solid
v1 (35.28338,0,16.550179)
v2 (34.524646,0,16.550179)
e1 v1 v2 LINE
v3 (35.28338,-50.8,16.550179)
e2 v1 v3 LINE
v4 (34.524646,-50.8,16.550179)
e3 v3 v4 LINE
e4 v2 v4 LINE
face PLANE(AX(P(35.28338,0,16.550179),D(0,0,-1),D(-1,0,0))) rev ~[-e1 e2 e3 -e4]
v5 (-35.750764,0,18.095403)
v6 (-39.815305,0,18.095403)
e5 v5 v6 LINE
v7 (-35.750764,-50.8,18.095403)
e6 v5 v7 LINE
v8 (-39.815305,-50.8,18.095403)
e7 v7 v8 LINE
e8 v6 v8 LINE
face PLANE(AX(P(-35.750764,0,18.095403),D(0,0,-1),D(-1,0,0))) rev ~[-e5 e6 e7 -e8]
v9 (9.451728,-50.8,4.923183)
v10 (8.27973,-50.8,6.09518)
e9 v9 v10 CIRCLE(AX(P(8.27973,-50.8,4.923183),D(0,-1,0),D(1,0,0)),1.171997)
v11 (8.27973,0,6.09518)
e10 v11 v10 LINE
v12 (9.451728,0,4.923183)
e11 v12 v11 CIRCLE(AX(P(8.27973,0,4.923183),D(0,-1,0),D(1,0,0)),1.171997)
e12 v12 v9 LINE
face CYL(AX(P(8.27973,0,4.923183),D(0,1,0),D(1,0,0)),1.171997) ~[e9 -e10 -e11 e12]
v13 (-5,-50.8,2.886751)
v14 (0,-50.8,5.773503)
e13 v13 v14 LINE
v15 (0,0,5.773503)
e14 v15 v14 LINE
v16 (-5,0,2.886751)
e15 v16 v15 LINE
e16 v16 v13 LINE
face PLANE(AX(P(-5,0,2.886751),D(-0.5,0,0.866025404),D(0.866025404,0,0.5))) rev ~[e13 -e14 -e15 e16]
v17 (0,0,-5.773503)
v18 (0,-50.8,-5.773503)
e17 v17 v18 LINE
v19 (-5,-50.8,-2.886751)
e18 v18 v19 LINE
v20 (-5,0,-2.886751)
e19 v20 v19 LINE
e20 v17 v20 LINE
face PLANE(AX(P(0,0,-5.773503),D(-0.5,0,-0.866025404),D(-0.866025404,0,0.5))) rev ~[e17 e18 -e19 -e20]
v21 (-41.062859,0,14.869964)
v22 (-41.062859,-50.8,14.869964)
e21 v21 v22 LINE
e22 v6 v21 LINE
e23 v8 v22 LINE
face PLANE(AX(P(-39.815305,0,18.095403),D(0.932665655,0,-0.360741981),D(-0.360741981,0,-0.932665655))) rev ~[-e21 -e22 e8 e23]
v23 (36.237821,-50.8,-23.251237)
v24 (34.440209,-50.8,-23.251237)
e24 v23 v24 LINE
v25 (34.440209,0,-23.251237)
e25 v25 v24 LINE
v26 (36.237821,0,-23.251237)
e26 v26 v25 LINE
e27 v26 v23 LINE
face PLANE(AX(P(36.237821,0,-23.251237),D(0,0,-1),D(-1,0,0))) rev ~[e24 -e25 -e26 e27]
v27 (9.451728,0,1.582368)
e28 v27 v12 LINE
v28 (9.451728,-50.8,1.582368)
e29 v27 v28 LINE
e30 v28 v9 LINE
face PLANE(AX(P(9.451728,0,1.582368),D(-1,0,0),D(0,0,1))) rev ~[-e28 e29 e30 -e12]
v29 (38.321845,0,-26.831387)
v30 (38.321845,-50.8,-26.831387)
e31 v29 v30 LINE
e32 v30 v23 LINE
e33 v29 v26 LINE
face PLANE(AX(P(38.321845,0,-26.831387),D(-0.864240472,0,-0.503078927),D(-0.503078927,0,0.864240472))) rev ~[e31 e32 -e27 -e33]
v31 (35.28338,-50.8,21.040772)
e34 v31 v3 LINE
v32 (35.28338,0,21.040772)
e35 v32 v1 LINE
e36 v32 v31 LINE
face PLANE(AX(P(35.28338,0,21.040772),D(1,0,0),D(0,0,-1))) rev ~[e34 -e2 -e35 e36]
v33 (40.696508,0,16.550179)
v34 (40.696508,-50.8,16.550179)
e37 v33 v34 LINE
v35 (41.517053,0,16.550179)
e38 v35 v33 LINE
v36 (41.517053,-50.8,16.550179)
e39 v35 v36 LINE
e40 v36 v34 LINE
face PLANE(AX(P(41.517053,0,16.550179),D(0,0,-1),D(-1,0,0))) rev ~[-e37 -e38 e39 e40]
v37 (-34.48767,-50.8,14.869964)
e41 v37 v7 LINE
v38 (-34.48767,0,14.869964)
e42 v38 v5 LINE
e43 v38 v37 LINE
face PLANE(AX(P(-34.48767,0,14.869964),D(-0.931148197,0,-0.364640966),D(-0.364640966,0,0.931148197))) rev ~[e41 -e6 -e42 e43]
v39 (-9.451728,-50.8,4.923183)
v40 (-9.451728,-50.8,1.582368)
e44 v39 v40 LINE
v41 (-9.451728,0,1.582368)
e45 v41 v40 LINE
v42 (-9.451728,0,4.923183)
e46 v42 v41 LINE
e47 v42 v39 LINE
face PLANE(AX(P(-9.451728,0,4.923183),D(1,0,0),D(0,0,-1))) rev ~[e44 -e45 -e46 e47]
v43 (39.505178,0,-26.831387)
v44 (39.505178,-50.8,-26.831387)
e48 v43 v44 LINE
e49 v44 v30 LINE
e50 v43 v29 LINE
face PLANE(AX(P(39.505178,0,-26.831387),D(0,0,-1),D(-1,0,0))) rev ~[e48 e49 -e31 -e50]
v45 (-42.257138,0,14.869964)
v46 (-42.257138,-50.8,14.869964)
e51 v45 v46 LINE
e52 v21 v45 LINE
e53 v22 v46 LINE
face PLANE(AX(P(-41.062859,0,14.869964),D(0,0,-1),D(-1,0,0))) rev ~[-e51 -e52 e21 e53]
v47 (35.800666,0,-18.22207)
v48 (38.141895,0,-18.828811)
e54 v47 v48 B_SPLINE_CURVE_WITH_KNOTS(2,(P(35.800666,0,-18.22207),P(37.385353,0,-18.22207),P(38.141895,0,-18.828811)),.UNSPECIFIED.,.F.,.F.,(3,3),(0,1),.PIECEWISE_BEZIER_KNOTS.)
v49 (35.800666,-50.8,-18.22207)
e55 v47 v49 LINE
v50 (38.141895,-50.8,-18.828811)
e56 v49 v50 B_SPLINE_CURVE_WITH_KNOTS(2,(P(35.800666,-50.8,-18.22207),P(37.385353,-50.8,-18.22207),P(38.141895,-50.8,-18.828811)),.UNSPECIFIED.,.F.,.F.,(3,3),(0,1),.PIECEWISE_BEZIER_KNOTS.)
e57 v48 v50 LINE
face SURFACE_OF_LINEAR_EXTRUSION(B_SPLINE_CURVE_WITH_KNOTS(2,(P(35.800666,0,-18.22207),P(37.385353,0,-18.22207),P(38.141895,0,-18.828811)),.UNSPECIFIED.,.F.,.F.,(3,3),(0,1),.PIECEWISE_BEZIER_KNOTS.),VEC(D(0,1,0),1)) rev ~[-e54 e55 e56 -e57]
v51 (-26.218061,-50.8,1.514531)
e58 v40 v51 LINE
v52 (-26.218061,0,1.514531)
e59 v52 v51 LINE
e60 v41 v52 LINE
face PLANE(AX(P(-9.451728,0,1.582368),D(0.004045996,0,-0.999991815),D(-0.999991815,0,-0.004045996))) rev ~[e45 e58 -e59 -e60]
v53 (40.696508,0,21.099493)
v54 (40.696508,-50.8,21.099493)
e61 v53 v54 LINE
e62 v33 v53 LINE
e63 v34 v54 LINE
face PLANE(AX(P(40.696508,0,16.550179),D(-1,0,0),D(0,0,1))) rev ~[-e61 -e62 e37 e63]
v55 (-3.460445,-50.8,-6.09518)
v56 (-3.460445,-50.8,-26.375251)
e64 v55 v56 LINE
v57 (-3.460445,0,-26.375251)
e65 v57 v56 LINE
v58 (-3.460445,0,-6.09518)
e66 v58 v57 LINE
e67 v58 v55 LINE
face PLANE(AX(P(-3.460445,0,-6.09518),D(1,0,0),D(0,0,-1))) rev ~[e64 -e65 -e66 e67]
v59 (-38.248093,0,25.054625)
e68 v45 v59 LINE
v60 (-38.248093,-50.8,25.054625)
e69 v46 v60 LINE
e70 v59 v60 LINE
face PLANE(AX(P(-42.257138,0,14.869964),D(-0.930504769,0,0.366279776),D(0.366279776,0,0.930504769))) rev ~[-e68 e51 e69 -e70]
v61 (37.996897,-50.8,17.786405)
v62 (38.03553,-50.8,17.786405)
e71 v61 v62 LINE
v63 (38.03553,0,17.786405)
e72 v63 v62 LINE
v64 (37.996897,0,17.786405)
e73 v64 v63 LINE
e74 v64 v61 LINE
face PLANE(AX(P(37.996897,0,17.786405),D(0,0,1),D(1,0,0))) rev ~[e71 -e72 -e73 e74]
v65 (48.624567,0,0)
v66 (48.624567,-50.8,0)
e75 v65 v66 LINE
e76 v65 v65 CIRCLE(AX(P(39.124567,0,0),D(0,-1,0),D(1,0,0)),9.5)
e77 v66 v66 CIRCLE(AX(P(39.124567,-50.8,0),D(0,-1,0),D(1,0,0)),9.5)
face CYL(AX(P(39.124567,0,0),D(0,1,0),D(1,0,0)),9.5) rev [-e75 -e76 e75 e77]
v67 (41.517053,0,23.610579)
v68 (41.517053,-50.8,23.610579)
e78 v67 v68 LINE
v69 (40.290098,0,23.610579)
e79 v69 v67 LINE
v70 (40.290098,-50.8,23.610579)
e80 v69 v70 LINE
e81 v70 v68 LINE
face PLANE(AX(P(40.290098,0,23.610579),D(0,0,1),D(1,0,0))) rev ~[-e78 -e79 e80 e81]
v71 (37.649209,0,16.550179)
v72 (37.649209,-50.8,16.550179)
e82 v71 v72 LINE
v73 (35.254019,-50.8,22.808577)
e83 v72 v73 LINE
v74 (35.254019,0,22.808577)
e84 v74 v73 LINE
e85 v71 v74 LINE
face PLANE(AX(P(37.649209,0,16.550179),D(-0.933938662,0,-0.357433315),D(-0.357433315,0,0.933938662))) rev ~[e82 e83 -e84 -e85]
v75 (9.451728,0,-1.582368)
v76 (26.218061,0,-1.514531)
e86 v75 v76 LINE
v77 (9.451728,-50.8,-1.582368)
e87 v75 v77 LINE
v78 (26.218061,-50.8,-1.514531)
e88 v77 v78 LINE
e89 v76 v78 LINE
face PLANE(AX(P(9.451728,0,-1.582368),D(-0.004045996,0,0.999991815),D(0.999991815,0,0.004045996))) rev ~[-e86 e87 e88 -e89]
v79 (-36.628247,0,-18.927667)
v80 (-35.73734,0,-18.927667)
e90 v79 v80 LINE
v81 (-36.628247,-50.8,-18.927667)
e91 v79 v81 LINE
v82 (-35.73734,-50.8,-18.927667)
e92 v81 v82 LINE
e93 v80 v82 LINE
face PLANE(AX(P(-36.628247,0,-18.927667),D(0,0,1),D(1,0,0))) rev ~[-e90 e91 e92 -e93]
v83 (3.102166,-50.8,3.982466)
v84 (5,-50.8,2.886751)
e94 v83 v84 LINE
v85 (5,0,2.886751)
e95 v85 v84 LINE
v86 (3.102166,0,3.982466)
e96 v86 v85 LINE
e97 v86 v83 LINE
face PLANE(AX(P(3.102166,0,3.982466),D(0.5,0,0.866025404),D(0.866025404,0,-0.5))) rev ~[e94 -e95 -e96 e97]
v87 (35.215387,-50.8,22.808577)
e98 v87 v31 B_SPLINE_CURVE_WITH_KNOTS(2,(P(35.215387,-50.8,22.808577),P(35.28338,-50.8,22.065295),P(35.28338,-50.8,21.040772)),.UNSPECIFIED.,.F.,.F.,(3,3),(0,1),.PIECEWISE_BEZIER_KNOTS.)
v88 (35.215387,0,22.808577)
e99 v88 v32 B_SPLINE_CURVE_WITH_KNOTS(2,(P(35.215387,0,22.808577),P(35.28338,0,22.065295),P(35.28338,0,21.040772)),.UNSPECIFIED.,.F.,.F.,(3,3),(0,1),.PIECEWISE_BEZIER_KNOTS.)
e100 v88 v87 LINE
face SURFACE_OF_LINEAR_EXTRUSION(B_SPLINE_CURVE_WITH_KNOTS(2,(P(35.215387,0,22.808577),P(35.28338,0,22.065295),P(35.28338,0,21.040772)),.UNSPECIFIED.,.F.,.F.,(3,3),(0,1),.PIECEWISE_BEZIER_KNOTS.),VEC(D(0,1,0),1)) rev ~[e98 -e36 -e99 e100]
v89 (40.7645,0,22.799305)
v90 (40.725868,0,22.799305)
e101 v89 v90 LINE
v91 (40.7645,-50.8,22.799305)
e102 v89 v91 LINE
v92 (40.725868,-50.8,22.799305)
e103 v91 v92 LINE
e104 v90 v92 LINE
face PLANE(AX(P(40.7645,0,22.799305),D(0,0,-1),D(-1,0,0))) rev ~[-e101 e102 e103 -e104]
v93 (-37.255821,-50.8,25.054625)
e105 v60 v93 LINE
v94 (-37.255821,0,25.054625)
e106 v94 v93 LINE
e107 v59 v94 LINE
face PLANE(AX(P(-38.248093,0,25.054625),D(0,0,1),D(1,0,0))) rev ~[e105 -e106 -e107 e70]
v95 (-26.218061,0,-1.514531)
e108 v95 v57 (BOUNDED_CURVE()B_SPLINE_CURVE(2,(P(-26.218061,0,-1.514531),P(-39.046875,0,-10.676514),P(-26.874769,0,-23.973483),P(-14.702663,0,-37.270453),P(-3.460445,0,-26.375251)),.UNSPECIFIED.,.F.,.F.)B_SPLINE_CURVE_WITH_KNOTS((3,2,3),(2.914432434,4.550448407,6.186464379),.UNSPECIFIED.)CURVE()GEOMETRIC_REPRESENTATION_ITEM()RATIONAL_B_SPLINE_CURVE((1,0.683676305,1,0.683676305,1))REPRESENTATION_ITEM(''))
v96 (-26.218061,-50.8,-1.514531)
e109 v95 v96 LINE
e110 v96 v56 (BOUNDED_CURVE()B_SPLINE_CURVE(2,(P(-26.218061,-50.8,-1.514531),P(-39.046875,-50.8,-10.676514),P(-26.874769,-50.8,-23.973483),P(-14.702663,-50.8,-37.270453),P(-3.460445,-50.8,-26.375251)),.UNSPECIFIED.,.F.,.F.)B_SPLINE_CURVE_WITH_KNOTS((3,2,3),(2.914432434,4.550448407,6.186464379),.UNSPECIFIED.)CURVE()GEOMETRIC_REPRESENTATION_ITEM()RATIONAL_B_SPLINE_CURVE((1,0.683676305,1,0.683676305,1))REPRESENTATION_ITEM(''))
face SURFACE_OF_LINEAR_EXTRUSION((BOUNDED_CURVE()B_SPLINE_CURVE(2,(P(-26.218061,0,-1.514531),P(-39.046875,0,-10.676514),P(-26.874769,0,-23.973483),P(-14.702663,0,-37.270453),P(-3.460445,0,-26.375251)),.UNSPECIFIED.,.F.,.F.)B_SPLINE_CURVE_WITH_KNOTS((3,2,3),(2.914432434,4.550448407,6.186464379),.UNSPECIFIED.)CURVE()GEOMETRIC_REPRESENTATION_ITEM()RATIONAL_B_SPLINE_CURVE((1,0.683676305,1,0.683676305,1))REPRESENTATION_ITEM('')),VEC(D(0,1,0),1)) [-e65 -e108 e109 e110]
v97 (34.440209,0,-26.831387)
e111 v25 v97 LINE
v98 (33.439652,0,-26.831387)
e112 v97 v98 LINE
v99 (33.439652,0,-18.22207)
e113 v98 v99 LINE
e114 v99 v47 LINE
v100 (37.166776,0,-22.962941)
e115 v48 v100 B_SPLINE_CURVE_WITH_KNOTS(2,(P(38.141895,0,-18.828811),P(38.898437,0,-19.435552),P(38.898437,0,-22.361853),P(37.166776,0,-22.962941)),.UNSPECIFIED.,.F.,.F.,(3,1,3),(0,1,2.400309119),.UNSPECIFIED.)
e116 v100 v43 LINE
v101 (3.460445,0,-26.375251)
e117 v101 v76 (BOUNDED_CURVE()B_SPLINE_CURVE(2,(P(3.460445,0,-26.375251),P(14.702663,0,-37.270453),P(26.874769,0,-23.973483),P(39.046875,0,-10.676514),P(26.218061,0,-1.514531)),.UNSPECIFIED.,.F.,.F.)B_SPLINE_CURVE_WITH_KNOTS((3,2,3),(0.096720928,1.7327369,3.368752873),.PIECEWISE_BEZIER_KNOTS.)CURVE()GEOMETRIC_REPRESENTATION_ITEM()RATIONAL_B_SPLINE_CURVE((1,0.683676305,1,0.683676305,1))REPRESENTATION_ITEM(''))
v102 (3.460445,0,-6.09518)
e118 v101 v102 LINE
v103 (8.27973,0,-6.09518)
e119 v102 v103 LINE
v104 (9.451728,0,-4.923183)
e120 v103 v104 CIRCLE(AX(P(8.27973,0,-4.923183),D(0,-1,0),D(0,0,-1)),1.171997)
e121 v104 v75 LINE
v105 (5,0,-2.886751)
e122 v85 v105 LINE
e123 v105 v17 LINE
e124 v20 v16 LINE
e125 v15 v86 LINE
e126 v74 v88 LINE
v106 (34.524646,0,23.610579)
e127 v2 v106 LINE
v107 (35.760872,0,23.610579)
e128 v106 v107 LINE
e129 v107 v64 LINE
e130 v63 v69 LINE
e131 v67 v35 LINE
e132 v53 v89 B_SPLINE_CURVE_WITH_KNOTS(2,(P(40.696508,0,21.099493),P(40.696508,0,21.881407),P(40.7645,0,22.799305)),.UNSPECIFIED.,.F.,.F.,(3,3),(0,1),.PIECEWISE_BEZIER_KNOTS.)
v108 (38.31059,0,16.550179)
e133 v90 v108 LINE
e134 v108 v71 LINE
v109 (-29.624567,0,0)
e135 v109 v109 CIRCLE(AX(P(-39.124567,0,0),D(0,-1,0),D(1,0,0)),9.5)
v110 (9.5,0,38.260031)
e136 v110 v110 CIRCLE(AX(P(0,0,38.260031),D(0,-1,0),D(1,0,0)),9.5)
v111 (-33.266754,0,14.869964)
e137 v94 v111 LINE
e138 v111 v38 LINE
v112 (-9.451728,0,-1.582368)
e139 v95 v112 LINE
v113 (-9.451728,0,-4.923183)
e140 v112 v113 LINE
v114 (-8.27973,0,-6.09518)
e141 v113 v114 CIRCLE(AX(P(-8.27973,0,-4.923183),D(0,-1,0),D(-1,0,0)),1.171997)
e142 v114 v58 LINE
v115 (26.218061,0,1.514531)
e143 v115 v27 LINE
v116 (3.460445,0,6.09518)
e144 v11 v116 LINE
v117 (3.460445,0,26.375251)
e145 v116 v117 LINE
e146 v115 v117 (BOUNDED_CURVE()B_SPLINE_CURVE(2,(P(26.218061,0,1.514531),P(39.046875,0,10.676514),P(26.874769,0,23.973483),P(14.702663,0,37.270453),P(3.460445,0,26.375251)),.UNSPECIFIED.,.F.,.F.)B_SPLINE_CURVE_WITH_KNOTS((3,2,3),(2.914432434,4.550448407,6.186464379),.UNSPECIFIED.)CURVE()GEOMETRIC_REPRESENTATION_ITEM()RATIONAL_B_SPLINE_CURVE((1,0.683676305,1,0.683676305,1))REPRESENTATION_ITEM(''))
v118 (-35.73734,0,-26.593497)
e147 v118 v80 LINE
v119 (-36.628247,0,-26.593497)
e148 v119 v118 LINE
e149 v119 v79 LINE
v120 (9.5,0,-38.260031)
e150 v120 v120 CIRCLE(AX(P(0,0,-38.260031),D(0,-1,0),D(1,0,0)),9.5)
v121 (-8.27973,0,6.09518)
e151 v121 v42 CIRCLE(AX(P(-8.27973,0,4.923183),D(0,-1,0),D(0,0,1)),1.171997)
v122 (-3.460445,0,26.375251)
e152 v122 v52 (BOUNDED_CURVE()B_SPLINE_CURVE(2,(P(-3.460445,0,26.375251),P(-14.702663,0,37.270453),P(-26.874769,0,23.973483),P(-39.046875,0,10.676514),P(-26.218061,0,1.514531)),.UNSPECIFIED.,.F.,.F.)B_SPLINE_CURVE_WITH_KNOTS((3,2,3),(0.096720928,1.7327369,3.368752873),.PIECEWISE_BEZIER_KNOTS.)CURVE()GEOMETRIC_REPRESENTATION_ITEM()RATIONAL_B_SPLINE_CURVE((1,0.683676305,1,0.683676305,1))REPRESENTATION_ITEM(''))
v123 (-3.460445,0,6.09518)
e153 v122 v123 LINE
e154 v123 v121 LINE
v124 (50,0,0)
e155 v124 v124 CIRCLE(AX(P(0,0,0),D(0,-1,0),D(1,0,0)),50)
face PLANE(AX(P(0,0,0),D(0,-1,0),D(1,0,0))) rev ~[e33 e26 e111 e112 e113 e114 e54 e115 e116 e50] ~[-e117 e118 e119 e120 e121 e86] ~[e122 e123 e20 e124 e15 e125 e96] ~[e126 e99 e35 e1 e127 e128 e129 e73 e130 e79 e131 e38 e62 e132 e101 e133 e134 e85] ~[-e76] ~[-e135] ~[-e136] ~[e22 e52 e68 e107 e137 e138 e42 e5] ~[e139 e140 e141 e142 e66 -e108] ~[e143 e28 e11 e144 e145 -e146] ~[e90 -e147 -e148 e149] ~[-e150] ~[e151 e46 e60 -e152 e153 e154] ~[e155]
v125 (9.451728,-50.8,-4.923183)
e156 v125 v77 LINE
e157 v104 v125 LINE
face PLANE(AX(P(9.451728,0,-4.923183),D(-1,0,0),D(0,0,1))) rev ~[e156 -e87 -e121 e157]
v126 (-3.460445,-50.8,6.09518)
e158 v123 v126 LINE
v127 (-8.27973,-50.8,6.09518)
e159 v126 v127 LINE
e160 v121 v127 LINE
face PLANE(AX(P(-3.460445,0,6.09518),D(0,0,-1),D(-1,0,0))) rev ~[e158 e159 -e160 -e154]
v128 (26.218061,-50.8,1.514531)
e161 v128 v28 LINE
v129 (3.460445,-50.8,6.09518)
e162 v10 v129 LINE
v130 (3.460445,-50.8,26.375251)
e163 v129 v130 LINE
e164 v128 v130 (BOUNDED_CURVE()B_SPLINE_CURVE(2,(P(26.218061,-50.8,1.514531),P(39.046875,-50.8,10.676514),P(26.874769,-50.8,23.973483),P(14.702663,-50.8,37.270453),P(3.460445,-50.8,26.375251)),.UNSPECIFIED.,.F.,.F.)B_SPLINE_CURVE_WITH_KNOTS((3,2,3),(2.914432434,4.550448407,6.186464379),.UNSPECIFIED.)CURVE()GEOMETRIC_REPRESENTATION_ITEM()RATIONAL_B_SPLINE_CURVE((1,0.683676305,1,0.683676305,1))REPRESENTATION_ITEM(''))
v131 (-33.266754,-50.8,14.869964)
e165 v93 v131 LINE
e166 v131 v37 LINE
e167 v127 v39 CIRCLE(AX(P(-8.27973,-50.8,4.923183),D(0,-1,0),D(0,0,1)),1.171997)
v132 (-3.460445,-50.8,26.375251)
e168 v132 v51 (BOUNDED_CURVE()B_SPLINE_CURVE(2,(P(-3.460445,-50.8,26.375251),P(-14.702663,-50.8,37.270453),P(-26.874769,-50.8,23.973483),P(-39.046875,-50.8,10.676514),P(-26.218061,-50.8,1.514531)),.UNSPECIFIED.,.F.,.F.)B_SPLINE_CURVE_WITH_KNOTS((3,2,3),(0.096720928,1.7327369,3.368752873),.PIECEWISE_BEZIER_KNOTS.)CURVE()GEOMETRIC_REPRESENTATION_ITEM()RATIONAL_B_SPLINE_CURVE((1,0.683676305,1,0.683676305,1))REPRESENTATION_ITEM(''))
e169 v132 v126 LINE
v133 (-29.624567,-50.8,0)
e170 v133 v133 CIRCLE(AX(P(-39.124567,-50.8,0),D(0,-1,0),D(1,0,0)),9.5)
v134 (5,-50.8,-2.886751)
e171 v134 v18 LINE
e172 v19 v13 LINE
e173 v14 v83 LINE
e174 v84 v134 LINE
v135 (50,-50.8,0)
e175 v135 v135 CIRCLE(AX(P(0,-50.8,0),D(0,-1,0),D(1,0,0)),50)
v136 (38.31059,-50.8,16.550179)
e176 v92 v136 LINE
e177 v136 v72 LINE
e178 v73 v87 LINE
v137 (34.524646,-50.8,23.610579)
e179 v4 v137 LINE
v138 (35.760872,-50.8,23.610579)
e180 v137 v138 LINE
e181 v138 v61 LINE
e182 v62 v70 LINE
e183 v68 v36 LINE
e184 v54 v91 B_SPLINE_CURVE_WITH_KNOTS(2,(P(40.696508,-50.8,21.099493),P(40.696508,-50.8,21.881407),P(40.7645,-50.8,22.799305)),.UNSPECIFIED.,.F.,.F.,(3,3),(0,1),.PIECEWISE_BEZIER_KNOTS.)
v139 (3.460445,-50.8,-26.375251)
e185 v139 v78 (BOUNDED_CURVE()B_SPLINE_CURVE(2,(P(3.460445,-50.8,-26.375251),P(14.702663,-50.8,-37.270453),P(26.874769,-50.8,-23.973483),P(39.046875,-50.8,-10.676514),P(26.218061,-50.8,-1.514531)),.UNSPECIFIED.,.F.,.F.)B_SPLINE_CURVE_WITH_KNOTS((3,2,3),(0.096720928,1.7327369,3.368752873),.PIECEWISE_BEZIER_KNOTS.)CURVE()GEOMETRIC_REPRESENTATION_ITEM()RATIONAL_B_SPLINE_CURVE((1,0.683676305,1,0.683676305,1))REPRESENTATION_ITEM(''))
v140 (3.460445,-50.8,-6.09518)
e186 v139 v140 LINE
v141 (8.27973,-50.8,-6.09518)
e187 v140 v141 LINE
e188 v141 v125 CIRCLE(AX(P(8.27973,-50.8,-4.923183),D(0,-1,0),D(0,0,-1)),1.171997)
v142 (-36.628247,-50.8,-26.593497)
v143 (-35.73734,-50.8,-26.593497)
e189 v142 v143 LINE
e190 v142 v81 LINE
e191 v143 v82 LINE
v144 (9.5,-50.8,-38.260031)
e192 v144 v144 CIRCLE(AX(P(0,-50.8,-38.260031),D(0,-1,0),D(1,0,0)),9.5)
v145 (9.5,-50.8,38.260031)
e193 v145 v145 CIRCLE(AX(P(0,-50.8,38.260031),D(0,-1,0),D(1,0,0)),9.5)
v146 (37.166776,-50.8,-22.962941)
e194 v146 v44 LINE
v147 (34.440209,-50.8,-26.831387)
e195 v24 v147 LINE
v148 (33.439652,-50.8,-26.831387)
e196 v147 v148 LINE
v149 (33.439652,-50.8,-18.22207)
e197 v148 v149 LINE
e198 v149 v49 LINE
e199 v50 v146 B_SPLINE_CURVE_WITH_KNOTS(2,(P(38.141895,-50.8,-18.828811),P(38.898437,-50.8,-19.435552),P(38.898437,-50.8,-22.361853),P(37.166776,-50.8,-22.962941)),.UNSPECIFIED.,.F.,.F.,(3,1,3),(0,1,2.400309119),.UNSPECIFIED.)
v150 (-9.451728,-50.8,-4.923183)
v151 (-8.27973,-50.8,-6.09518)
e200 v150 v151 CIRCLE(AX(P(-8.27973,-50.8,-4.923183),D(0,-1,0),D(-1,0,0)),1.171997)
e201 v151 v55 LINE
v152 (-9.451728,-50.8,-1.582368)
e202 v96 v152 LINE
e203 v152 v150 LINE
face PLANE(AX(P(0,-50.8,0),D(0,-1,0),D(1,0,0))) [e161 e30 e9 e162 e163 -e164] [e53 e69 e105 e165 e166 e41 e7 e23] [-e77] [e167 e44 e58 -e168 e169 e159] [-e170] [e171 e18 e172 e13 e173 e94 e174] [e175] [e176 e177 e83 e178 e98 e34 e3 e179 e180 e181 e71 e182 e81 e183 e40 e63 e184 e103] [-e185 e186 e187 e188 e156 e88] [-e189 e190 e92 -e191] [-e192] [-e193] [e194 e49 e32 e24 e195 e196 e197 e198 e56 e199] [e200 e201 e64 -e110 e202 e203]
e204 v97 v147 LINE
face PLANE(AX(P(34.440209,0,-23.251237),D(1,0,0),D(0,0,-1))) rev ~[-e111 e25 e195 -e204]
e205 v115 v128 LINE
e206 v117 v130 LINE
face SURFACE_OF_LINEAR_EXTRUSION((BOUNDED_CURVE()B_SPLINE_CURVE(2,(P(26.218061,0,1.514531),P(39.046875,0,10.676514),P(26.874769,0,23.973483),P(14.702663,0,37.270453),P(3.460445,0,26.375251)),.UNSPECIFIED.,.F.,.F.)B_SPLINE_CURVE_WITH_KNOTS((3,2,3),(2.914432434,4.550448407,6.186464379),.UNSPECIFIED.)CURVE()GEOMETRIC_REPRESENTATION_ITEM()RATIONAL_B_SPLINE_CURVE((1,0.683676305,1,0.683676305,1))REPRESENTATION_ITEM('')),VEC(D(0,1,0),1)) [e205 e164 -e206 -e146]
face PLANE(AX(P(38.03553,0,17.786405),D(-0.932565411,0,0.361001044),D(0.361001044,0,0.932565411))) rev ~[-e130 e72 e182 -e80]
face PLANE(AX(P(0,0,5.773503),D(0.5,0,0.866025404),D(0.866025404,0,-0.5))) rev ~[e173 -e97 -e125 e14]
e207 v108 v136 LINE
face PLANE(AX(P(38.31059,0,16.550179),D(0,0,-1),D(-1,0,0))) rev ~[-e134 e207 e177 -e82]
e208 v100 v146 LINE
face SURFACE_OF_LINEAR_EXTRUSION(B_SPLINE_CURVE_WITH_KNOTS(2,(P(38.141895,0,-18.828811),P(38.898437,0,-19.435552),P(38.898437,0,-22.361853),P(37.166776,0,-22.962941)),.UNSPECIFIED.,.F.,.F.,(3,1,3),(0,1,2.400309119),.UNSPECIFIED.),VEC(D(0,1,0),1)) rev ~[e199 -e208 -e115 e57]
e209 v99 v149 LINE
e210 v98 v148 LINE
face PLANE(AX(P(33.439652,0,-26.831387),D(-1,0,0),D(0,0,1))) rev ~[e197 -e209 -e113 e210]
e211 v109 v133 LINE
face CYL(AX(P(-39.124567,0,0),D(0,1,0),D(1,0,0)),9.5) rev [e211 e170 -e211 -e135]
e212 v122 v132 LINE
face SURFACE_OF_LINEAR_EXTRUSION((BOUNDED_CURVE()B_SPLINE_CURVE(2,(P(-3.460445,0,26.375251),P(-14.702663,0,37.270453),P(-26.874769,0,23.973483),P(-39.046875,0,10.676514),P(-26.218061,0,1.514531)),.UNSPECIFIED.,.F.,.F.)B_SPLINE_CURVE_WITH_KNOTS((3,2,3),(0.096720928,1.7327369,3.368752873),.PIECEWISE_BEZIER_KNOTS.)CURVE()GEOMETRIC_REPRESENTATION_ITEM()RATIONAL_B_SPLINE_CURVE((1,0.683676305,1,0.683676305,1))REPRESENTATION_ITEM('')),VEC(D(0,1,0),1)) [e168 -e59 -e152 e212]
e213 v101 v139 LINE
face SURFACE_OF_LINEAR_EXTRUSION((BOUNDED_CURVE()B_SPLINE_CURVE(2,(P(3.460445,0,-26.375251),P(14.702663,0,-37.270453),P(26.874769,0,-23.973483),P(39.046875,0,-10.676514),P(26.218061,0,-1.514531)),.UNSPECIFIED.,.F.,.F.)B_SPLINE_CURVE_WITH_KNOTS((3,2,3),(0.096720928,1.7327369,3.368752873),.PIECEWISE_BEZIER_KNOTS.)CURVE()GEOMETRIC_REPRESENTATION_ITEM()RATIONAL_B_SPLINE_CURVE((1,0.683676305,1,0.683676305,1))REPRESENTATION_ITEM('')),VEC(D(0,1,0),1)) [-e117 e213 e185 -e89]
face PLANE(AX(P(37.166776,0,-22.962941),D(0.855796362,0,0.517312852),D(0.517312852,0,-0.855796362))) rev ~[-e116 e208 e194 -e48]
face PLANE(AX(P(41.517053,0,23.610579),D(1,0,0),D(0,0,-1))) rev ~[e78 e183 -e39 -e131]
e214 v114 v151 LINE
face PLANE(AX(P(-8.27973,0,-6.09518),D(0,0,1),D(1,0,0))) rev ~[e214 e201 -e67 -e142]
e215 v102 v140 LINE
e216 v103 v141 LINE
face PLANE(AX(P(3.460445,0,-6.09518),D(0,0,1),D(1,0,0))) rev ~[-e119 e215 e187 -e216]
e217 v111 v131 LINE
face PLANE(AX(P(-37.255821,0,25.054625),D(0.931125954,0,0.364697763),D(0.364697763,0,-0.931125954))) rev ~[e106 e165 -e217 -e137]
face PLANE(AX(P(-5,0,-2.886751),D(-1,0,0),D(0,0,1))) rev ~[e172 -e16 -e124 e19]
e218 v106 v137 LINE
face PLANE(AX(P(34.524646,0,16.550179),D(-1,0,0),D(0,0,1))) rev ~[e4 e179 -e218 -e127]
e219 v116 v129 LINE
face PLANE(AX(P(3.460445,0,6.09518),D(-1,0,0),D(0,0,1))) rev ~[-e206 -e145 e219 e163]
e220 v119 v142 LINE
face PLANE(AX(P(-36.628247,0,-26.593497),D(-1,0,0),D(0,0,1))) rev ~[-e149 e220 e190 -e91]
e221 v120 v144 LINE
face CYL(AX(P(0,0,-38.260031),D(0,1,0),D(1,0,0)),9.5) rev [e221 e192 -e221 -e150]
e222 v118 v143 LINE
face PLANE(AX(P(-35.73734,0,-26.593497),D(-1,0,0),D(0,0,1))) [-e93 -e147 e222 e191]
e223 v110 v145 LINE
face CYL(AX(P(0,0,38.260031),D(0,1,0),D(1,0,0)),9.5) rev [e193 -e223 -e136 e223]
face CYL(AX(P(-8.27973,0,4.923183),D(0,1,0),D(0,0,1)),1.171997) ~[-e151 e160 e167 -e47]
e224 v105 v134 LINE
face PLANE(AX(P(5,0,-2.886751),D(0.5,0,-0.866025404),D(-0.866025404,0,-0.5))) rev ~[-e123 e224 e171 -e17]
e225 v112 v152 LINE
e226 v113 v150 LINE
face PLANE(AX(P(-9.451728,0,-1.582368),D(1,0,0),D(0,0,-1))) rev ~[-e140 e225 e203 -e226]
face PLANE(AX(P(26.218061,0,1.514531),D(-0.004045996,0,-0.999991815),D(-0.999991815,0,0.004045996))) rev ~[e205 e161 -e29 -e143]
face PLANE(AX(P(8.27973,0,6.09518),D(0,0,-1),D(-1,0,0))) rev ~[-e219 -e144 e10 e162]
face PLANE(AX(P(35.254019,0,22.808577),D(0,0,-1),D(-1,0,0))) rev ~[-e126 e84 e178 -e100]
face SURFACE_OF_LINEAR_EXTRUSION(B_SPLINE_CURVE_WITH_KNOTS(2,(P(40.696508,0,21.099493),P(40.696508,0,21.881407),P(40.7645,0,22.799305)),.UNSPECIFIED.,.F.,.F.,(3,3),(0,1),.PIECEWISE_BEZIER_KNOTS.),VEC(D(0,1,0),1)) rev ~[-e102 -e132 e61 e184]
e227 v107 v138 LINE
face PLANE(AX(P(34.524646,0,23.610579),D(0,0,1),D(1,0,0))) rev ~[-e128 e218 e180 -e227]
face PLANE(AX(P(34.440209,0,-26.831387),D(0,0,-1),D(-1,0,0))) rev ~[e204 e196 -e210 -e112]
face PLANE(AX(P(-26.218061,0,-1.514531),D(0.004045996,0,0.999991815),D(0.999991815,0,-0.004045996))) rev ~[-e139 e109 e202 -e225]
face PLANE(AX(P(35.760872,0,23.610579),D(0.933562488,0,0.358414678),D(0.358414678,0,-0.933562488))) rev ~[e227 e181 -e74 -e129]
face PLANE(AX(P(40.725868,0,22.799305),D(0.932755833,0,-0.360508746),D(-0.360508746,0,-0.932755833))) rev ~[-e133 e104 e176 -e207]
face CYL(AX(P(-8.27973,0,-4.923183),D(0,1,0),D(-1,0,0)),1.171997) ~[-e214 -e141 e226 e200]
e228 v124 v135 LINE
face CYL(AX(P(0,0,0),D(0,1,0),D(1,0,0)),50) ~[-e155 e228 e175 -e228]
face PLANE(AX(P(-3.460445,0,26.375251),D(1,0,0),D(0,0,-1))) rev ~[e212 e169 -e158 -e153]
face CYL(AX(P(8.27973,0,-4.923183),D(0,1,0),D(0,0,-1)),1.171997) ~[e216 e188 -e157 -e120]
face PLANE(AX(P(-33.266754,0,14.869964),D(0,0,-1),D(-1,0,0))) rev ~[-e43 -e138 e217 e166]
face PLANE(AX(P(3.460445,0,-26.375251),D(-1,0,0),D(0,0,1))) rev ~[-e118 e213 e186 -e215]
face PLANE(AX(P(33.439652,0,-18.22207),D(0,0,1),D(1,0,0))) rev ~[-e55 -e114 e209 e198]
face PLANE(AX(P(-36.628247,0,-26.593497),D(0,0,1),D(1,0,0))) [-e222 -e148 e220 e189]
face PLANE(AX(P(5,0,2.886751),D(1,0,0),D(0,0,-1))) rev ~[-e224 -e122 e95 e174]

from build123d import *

# Parameters (mm, degrees)
F0_R     = 50
F0_W     = 0.8909073204
F0_H     = 7.6658296548
F0_R_2   = 9.5
F1_DEPTH = 50.8


with BuildPart() as f1:
    # F0 (on Front) → F1 (new body)
    with BuildSketch(Plane.XZ):
        Circle(F0_R)
        with Locations((-36.1827932026, -22.7605821956)):
            Rectangle(F0_W, F0_H, mode=Mode.SUBTRACT)
        with BuildLine():
            add(Edge.make_bspline(
                [(-26.2180610272, -1.514530619), (-39.046874665, -10.6765138668), (-26.8747687945, -23.9734832309), (-14.7026629239, -37.270452595), (-3.4604447998, -26.3752514337)],
                knots=[2.9144324344, 2.9144324344, 2.9144324344, 4.5504484069, 4.5504484069, 6.1864643793, 6.1864643793, 6.1864643793], degree=2, weights=[1, 0.6836763053, 1, 0.6836763053, 1]))
            Line((-26.2180610272, -1.514530619), (-9.4517278188, -1.5823676949))
            Line((-9.4517278188, -1.5823676949), (-9.4517278188, -4.923182711))
            ThreePointArc((-9.4517278188, -4.923182711), (-9.108457703, -5.7519100802), (-8.2797303337, -6.095180196))
            Line((-8.2797303337, -6.095180196), (-3.4604447998, -6.095180196))
            Line((-3.4604447998, -6.095180196), (-3.4604447998, -26.3752514337))
        make_face(mode=Mode.SUBTRACT)
        with Locations((0, -38.2600314915)):
            Circle(F0_R_2, mode=Mode.SUBTRACT)
        with BuildLine():
            add(Edge.make_bspline(
                [(3.4604447998, -26.3752514337), (14.7026629239, -37.270452595), (26.8747687945, -23.9734832309), (39.046874665, -10.6765138668), (26.2180610272, -1.514530619)],
                knots=[0.0967209279, 0.0967209279, 0.0967209279, 1.7327369003, 1.7327369003, 3.3687528727, 3.3687528727, 3.3687528727], degree=2, weights=[1, 0.6836763053, 1, 0.6836763053, 1]))
            Line((3.4604447998, -26.3752514337), (3.4604447998, -6.095180196))
            Line((3.4604447998, -6.095180196), (8.2797303337, -6.095180196))
            ThreePointArc((8.2797303337, -6.095180196), (9.108457703, -5.7519100802), (9.4517278188, -4.923182711))
            Line((9.4517278188, -4.923182711), (9.4517278188, -1.5823676949))
            Line((9.4517278188, -1.5823676949), (26.2180610272, -1.514530619))
        make_face(mode=Mode.SUBTRACT)
        with BuildLine():
            Line((36.2378211289, -23.251237317), (34.4402093255, -23.251237317))
            Line((34.4402093255, -23.251237317), (34.4402093255, -26.8313866109))
            Line((34.4402093255, -26.8313866109), (33.4396518123, -26.8313866109))
            Line((33.4396518123, -26.8313866109), (33.4396518123, -18.2220697037))
            Line((33.4396518123, -18.2220697037), (35.8006660572, -18.2220697037))
            add(Edge.make_bspline(
                [(35.8006660572, -18.2220697037), (37.385353192, -18.2220697037), (38.1418952665, -18.8288107945)],
                knots=[0, 0, 0, 1, 1, 1], degree=2))
            add(Edge.make_bspline(
                [(38.1418952665, -18.8288107945), (38.8984373409, -19.4355518854), (38.8984373409, -20.6546869344)],
                knots=[0, 0, 0, 1, 1, 1], degree=2))
            add(Edge.make_bspline(
                [(38.8984373409, -20.6546869344), (38.8984373409, -22.3618528608), (37.1667756562, -22.9629410844)],
                knots=[0, 0, 0, 1, 1, 1], degree=2))
            Line((37.1667756562, -22.9629410844), (39.5051784318, -26.8313866109))
            Line((39.5051784318, -26.8313866109), (38.3218448757, -26.8313866109))
            Line((38.3218448757, -26.8313866109), (36.2378211289, -23.251237317))
        make_face(mode=Mode.SUBTRACT)
        with Locations((-39.1245670617, 0)):
            Circle(F0_R_2, mode=Mode.SUBTRACT)
        Polygon((-33.2667540933, 14.8699637502), (-34.4876703716, 14.8699637502), (-35.7507637576, 18.0954025725), (-39.8153050402, 18.0954025725), (-41.0628594917, 14.8699637502), (-42.2571375966, 14.8699637502), (-38.2480925085, 25.0546253584), (-37.2558205515, 25.0546253584), align=None, mode=Mode.SUBTRACT)
        with BuildLine():
            Line((-3.4604447998, 26.3752514337), (-3.4604447998, 6.095180196))
            Line((-3.4604447998, 6.095180196), (-8.2797303337, 6.095180196))
            ThreePointArc((-8.2797303337, 6.095180196), (-9.108457703, 5.7519100802), (-9.4517278188, 4.923182711))
            Line((-9.4517278188, 4.923182711), (-9.4517278188, 1.5823676949))
            Line((-9.4517278188, 1.5823676949), (-26.2180610272, 1.514530619))
            add(Edge.make_bspline(
                [(-3.4604447998, 26.3752514337), (-14.7026629239, 37.270452595), (-26.8747687945, 23.9734832309), (-39.046874665, 10.6765138668), (-26.2180610272, 1.514530619)],
                knots=[0.0967209279, 0.0967209279, 0.0967209279, 1.7327369003, 1.7327369003, 3.3687528727, 3.3687528727, 3.3687528727], degree=2, weights=[1, 0.6836763053, 1, 0.6836763053, 1]))
        make_face(mode=Mode.SUBTRACT)
        Polygon((3.1021658797, 3.9824663862), (5, 2.8867513459), (5, -2.8867513459), (0, -5.7735026919), (-5, -2.8867513459), (-5, 2.8867513459), (0, 5.7735026919), align=None, mode=Mode.SUBTRACT)
        with BuildLine():
            add(Edge.make_bspline(
                [(26.2180610272, 1.514530619), (39.046874665, 10.6765138668), (26.8747687945, 23.9734832309), (14.7026629239, 37.270452595), (3.4604447998, 26.3752514337)],
                knots=[2.9144324344, 2.9144324344, 2.9144324344, 4.5504484069, 4.5504484069, 6.1864643793, 6.1864643793, 6.1864643793], degree=2, weights=[1, 0.6836763053, 1, 0.6836763053, 1]))
            Line((26.2180610272, 1.514530619), (9.4517278188, 1.5823676949))
            Line((9.4517278188, 1.5823676949), (9.4517278188, 4.923182711))
            ThreePointArc((9.4517278188, 4.923182711), (9.108457703, 5.7519100802), (8.2797303337, 6.095180196))
            Line((8.2797303337, 6.095180196), (3.4604447998, 6.095180196))
            Line((3.4604447998, 6.095180196), (3.4604447998, 26.3752514337))
        make_face(mode=Mode.SUBTRACT)
        with Locations((39.1245670617, 0)):
            Circle(F0_R_2, mode=Mode.SUBTRACT)
        with BuildLine():
            Line((38.3105899637, 16.5501786396), (37.6492086511, 16.5501786396))
            Line((37.6492086511, 16.5501786396), (35.2540193182, 22.8085765739))
            Line((35.2540193182, 22.8085765739), (35.2153872322, 22.8085765739))
            add(Edge.make_bspline(
                [(35.2153872322, 22.8085765739), (35.2833797036, 22.065295239), (35.2833797036, 21.0407723179)],
                knots=[0, 0, 0, 1, 1, 1], degree=2))
            Line((35.2833797036, 21.0407723179), (35.2833797036, 16.5501786396))
            Line((35.2833797036, 16.5501786396), (34.5246455343, 16.5501786396))
            Line((34.5246455343, 16.5501786396), (34.5246455343, 23.6105786795))
            Line((34.5246455343, 23.6105786795), (35.7608722867, 23.6105786795))
            Line((35.7608722867, 23.6105786795), (37.9968974252, 17.786405392))
            Line((37.9968974252, 17.786405392), (38.0355295112, 17.786405392))
            Line((38.0355295112, 17.786405392), (40.290098051, 23.6105786795))
            Line((40.290098051, 23.6105786795), (41.5170531028, 23.6105786795))
            Line((41.5170531028, 23.6105786795), (41.5170531028, 16.5501786396))
            Line((41.5170531028, 16.5501786396), (40.6965075959, 16.5501786396))
            Line((40.6965075959, 16.5501786396), (40.6965075959, 21.0994930886))
            add(Edge.make_bspline(
                [(40.6965075959, 21.0994930886), (40.6965075959, 21.8814065095), (40.7645000673, 22.7993048732)],
                knots=[0, 0, 0, 1, 1, 1], degree=2))
            Line((40.7645000673, 22.7993048732), (40.7258679813, 22.7993048732))
            Line((40.7258679813, 22.7993048732), (38.3105899637, 16.5501786396))
        make_face(mode=Mode.SUBTRACT)
        with Locations((0, 38.2600314915)):
            Circle(F0_R_2, mode=Mode.SUBTRACT)
    extrude(amount=F1_DEPTH)


solid = f1.part
